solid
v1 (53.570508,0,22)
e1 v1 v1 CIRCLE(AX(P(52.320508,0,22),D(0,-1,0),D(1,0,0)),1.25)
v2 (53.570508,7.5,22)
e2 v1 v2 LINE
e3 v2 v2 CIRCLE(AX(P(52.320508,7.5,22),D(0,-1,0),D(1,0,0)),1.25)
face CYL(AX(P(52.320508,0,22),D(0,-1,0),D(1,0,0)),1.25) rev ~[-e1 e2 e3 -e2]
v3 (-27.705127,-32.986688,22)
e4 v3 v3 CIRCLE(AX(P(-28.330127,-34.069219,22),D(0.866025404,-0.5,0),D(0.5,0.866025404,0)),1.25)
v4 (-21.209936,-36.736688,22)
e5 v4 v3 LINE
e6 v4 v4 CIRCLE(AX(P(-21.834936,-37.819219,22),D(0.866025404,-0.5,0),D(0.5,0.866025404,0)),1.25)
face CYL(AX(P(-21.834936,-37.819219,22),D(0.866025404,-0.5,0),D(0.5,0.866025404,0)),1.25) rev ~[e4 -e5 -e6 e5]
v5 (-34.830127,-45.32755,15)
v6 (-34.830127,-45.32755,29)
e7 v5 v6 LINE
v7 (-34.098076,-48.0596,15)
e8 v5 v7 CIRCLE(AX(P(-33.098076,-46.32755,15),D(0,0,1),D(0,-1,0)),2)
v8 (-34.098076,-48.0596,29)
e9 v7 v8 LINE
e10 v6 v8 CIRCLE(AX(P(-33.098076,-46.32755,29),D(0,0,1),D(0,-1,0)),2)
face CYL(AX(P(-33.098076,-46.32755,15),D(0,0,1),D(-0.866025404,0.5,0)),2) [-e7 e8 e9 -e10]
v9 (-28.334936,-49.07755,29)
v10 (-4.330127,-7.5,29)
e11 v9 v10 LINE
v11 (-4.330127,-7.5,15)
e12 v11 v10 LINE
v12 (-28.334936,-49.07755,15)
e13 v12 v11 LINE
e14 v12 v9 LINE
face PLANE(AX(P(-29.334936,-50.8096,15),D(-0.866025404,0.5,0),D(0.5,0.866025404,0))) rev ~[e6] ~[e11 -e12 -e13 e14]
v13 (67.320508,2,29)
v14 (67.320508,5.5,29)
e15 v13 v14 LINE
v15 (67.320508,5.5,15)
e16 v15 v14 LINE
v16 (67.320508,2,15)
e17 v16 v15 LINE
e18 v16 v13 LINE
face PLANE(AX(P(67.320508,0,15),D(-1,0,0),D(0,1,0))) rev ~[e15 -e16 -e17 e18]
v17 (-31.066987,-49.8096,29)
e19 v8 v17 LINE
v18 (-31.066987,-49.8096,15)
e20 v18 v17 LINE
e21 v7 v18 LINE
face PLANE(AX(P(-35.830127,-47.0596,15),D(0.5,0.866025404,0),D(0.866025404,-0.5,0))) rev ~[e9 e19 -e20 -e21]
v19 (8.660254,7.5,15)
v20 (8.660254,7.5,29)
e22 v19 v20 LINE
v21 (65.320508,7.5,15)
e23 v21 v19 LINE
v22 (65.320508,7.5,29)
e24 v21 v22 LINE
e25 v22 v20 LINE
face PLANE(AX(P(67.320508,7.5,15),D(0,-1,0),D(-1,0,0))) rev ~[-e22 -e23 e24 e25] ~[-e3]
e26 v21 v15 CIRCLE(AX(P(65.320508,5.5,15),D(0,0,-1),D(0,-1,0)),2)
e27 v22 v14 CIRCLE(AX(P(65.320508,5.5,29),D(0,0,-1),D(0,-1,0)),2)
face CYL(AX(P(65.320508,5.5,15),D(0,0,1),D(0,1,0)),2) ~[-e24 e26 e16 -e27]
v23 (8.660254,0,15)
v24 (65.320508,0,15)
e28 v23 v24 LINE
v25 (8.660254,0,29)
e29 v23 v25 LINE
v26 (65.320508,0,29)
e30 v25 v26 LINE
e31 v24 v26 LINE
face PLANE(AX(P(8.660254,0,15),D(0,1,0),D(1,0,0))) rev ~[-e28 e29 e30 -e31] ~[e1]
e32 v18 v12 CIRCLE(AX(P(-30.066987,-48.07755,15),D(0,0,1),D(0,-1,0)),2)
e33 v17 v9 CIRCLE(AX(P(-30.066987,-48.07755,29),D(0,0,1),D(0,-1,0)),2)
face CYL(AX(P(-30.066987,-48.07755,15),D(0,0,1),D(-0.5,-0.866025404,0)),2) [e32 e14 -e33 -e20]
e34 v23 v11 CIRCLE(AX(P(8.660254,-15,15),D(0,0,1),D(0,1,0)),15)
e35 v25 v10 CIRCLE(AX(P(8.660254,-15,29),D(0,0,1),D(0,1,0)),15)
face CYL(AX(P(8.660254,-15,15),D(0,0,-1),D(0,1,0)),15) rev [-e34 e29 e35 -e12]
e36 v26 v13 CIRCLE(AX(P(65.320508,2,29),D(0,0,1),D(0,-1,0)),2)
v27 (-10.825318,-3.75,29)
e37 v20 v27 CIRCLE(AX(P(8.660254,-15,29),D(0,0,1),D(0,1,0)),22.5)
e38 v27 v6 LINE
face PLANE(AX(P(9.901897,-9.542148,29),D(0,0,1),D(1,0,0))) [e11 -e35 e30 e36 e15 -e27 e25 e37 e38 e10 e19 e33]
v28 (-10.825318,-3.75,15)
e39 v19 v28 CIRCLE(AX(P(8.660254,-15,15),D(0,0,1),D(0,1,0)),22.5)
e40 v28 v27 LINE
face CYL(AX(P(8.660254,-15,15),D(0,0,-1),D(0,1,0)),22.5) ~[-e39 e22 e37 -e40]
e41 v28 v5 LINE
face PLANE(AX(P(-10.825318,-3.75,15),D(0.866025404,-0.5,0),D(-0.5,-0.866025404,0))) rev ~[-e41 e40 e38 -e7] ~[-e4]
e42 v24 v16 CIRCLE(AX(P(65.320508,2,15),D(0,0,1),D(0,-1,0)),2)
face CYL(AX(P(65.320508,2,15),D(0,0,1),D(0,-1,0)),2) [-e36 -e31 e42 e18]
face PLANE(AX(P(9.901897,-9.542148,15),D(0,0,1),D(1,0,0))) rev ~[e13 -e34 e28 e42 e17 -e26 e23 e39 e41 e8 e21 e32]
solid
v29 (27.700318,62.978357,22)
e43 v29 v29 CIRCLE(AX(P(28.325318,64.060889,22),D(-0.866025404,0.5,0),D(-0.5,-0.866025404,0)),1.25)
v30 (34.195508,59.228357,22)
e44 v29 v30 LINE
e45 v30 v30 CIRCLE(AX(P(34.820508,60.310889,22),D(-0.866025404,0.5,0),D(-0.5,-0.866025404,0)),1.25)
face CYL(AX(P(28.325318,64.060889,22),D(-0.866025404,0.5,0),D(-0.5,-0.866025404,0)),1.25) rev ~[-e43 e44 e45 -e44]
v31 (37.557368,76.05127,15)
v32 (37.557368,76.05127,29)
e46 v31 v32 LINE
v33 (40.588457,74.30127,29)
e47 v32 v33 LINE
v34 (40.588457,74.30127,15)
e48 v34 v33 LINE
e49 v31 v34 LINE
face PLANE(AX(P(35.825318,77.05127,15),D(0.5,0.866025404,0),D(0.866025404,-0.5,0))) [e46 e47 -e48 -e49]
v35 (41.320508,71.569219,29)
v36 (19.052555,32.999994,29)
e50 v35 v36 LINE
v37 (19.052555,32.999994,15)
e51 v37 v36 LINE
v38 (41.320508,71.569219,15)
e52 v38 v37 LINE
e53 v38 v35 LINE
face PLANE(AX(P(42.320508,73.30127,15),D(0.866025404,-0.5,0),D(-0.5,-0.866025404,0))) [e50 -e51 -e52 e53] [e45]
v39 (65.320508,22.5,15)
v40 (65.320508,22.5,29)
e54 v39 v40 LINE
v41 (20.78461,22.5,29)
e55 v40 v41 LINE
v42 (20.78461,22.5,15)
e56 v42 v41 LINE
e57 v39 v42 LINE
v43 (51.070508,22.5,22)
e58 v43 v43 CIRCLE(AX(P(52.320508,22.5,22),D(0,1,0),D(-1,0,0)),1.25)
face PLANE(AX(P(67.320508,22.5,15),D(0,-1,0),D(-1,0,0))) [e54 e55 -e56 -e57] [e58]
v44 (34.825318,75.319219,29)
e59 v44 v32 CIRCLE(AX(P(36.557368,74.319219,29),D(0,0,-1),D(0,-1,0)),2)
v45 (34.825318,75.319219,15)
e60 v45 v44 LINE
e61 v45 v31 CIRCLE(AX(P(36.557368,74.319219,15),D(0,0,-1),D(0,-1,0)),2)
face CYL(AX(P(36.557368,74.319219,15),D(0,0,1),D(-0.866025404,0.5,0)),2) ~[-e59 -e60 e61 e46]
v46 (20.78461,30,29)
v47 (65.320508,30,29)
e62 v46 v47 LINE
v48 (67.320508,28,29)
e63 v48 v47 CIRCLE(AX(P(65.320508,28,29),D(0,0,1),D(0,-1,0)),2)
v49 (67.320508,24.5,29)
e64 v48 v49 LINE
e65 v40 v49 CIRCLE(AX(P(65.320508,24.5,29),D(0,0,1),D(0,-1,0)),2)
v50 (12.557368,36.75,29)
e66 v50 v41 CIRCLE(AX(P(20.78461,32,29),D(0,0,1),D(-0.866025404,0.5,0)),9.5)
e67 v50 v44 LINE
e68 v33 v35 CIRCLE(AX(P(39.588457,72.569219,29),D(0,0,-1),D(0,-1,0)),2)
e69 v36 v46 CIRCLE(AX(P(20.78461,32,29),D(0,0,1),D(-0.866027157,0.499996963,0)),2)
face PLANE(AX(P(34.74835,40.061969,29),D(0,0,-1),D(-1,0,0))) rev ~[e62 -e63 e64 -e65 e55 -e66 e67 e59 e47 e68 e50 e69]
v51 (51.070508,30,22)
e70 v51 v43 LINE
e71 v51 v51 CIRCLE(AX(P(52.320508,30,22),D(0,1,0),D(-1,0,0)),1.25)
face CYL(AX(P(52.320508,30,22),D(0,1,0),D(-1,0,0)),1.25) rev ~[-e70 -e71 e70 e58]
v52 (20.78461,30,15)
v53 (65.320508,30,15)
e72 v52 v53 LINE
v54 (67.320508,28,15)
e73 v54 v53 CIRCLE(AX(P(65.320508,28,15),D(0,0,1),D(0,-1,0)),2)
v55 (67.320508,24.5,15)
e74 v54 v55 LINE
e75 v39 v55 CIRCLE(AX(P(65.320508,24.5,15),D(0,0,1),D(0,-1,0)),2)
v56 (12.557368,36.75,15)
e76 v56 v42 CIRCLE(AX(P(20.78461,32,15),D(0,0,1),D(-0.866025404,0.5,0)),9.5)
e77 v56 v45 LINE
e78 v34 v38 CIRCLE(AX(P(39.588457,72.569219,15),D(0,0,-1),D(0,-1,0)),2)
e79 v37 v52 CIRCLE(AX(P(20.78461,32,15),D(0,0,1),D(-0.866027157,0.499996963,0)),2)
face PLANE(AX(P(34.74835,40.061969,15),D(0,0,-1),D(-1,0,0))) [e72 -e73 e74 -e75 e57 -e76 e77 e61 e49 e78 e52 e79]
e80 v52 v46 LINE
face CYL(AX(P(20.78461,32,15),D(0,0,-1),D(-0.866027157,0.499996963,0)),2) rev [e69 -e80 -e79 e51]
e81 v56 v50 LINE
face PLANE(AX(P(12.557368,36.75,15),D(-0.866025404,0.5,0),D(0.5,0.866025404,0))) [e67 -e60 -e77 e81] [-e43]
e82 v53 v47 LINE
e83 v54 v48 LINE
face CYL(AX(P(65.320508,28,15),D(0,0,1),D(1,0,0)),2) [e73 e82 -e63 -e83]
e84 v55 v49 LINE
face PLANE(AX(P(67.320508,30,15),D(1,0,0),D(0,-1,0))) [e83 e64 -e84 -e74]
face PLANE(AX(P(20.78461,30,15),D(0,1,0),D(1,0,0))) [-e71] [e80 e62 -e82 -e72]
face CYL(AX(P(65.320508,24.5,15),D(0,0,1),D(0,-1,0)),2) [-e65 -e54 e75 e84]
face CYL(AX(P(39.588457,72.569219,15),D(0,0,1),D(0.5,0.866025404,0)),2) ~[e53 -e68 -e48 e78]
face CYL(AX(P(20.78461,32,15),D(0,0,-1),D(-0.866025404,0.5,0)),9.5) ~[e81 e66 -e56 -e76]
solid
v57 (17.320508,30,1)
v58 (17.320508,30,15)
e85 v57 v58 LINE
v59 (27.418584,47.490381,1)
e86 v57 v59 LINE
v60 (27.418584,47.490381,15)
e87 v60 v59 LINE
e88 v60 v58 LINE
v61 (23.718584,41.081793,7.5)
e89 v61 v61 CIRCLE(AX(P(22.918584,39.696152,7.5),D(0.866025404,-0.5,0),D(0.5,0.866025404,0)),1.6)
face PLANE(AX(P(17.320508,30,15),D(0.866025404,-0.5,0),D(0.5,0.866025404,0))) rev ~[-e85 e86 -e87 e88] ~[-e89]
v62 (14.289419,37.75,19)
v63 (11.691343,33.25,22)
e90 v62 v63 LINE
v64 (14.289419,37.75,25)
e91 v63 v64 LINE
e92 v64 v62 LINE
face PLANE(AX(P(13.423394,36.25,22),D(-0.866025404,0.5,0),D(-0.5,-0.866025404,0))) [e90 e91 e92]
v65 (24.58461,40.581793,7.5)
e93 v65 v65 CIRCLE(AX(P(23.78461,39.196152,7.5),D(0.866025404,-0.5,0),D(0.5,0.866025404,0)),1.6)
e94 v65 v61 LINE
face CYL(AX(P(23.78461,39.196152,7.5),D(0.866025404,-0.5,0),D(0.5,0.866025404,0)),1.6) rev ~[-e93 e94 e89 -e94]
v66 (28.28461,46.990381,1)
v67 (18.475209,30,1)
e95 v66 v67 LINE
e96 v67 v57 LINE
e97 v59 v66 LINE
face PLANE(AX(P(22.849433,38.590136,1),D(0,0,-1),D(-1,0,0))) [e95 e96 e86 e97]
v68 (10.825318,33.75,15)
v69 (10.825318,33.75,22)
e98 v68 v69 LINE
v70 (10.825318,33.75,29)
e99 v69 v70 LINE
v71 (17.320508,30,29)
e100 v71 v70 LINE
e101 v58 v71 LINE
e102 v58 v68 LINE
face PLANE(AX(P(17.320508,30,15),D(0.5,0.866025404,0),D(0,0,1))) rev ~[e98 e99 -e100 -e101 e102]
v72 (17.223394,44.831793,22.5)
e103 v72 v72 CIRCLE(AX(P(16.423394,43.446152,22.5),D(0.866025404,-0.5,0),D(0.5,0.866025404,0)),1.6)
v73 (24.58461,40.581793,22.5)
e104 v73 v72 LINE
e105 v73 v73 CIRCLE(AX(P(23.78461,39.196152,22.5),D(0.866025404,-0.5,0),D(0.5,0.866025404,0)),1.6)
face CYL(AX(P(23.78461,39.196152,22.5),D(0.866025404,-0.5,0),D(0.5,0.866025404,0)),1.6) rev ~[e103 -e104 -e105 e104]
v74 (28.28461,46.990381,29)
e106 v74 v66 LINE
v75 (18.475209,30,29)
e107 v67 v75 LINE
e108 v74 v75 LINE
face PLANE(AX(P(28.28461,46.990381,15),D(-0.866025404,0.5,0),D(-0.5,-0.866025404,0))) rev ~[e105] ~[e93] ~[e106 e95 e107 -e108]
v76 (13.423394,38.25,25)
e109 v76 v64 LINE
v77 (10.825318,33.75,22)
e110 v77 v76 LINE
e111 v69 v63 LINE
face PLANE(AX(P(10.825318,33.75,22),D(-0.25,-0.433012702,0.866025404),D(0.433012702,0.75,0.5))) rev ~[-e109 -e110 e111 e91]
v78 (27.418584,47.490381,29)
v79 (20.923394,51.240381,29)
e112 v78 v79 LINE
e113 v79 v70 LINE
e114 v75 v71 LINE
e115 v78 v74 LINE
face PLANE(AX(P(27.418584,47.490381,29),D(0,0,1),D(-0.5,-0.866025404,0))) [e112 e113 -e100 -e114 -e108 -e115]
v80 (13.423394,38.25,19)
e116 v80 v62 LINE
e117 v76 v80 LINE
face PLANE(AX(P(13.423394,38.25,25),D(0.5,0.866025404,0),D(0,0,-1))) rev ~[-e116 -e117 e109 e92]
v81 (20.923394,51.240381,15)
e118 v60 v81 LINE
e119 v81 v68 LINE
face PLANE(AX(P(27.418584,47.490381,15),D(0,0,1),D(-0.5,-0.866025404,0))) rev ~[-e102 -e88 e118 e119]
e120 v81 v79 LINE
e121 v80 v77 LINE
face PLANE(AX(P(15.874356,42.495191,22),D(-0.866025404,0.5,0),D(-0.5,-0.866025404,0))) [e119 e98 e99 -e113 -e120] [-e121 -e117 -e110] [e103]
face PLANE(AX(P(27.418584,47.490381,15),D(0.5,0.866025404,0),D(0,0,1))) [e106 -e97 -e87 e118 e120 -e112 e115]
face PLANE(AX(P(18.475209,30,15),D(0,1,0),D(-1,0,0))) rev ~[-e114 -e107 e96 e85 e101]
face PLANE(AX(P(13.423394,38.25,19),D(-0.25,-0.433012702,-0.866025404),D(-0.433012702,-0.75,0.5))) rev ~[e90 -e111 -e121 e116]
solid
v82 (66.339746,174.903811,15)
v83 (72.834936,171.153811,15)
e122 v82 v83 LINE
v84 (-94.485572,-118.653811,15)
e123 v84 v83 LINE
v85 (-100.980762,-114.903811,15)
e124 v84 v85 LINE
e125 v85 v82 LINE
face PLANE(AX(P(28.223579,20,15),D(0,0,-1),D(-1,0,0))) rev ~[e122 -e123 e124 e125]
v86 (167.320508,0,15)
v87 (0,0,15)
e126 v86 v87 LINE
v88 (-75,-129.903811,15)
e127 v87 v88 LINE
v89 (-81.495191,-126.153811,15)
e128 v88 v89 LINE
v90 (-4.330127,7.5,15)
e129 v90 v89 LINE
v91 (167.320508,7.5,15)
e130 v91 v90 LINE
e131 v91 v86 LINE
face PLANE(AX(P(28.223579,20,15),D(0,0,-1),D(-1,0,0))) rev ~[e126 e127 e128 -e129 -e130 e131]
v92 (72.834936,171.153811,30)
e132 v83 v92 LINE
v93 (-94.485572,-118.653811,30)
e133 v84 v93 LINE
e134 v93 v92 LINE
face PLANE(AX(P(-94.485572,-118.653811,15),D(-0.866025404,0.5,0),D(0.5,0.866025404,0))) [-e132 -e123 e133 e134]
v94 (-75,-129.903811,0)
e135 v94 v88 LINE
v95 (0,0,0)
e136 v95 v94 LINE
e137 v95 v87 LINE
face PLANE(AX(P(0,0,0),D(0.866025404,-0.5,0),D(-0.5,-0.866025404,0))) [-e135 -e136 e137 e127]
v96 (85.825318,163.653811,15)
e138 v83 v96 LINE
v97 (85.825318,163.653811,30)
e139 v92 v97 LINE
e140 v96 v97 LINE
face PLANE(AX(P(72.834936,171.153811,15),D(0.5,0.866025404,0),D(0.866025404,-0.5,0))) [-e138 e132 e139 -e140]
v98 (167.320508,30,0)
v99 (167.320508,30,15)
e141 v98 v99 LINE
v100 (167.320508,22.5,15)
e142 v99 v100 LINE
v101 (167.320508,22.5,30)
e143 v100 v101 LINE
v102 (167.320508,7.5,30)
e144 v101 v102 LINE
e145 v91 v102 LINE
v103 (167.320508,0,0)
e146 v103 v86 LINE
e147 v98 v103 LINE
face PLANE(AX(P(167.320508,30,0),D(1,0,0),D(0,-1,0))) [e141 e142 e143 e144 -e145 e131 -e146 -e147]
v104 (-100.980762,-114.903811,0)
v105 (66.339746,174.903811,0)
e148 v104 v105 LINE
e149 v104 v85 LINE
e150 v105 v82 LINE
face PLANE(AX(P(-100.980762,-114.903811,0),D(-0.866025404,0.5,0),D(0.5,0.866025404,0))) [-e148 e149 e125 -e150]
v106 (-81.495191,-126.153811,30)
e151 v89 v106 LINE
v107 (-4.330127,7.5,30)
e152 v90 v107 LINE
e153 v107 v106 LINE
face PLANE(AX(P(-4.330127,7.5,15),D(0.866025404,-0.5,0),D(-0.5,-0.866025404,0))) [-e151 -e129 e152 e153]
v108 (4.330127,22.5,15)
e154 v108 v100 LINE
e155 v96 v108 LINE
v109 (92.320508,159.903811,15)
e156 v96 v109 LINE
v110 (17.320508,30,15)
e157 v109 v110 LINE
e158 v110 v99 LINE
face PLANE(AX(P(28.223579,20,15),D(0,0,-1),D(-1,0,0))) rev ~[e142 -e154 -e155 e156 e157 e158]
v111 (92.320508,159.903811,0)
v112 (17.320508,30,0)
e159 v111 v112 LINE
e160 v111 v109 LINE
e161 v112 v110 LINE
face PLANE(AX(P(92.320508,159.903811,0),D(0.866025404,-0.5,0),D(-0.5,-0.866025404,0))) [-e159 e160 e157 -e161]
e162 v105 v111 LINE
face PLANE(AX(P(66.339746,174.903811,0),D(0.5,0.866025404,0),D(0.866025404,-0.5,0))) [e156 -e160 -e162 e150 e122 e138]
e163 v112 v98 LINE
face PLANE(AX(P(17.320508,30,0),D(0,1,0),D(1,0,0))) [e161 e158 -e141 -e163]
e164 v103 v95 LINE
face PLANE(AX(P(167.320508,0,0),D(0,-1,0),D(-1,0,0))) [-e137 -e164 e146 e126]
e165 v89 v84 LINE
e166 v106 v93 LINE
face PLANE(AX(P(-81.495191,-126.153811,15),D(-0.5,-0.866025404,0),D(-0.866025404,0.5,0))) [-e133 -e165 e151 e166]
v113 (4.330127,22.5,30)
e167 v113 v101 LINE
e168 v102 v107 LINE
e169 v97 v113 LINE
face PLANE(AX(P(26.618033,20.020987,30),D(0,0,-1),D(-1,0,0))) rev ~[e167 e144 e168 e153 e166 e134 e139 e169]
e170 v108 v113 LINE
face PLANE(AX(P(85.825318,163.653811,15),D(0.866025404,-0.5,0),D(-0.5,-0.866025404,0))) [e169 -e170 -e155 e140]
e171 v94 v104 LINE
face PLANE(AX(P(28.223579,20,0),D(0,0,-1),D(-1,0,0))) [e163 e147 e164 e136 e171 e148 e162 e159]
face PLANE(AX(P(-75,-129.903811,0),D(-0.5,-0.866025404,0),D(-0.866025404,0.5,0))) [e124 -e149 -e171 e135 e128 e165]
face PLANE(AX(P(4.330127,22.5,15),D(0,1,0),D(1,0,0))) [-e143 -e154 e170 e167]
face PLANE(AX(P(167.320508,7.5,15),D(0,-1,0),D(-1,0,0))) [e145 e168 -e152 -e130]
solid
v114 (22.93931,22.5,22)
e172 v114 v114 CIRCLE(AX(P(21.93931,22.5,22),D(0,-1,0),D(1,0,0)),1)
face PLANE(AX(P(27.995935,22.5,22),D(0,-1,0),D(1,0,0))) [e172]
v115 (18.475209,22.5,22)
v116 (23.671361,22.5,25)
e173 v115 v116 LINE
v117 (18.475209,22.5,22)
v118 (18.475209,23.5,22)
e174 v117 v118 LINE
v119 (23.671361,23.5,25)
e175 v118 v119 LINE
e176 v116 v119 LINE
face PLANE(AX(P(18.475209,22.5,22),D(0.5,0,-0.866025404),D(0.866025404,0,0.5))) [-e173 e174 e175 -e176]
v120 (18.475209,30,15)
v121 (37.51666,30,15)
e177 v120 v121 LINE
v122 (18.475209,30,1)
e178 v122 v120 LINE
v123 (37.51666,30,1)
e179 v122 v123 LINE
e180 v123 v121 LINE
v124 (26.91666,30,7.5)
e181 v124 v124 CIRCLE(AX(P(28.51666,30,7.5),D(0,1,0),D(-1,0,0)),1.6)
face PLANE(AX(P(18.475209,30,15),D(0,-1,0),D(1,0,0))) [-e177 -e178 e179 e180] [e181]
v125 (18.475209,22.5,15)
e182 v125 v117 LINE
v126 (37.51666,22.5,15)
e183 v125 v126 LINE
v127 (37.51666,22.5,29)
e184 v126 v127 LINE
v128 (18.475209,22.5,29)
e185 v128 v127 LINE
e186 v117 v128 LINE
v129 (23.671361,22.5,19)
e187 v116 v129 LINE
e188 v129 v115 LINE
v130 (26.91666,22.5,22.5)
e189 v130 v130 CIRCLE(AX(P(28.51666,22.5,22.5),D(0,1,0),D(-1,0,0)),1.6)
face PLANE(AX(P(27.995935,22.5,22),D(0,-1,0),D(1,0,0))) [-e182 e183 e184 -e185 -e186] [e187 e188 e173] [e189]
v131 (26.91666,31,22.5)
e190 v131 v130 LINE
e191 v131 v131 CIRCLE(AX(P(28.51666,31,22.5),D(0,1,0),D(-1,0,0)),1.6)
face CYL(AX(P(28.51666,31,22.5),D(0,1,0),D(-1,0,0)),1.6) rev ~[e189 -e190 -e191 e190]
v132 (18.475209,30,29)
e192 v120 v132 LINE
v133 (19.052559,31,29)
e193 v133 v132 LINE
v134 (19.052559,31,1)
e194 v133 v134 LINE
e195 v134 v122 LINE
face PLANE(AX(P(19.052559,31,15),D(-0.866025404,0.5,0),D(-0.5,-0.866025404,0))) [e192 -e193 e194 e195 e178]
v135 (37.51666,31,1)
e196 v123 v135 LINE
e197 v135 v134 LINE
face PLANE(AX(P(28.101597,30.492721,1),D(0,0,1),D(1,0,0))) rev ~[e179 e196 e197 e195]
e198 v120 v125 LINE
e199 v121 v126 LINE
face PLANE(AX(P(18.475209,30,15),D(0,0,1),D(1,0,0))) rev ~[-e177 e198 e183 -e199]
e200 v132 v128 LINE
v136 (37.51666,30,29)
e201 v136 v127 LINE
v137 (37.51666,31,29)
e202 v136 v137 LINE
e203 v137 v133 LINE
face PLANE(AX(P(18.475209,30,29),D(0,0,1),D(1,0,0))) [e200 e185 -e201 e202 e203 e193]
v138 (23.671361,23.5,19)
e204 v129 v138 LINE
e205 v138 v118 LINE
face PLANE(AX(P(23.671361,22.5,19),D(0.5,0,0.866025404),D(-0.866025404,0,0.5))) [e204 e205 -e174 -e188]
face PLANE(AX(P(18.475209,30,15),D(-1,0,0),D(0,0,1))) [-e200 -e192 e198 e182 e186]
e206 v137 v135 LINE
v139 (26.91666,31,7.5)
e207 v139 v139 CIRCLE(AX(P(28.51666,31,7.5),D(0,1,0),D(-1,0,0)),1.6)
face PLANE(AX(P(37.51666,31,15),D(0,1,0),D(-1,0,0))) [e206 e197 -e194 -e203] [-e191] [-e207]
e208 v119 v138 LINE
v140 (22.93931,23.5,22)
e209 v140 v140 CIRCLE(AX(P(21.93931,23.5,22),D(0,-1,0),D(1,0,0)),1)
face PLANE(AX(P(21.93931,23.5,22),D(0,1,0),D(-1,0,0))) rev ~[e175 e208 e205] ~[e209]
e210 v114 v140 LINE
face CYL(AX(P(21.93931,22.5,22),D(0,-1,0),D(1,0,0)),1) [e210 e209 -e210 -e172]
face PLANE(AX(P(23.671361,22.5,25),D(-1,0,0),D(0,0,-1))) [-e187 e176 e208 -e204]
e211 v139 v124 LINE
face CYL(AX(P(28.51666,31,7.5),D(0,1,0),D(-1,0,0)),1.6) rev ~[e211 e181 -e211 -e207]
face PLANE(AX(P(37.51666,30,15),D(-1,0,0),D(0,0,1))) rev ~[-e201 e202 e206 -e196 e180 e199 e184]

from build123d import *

# Parameters (mm, degrees)
PAD_DEPTH       = 15
PAD001_DEPTH    = 15
PAD002_DEPTH    = 14
SKETCH006_R     = 1.25
POCKET002_DEPTH = 7.501
SKETCH007_R     = 1.25
POCKET003_DEPTH = 54.5522701892
FILLET001_R     = 2
PAD003_DEPTH    = 14
SKETCH004_R     = 1.25
POCKET_DEPTH    = 7.501
SKETCH005_R     = 1.25
POCKET001_DEPTH = 34.7808002192
FILLET_R        = 2
PAD004_DEPTH    = 14
SKETCH009_W     = 19.0414518843
SKETCH009_H     = 14
PAD005_DEPTH    = 7.5
SKETCH010_R     = 1.6
POCKET004_DEPTH = 8.501
SKETCH014_R     = 1
POCKET006_DEPTH = 1
PAD006_DEPTH    = 14
SKETCH012_W     = 20.1961524227
SKETCH012_H     = 14
PAD007_DEPTH    = 7.5
SKETCH013_R     = 1.6
POCKET005_DEPTH = 17.2461905284
POCKET007_DEPTH = 1


with BuildPart() as branche:
    # Sketch → Pad (new body)
    with BuildSketch(Plane.XY):
        Polygon((-100.9807621135, -114.9038105677), (66.3397459622, 174.9038105677), (92.3205080757, 159.9038105677), (17.3205080757, 30), (167.3205080757, 30), (167.3205080757, 0), (0, 0), (-75, -129.9038105677), align=None)
    extrude(amount=PAD_DEPTH)

    # Sketch001 (on Face10 of Pad) → Pad001 (join)
    with BuildSketch(Plane.XY.offset(15)):
        Polygon((85.8253175473, 163.6538105677), (4.3301270189, 22.5), (167.3205080757, 22.5), (167.3205080757, 7.5), (-4.3301270189, 7.5), (-81.4951905284, -126.1538105677), (-94.4855715851, -118.6538105677), (72.8349364905, 171.1538105677), align=None)
    extrude(amount=PAD001_DEPTH)


with BuildPart() as support_inter:
    # Sketch002 → Pad002 (new body)
    with BuildSketch(Plane.XY):
        with BuildLine():
            Line((67.3205080757, 22.5), (20.7846096908, 22.5))
            ThreePointArc((12.5573683549, 36.75), (12.5573683549, 27.25), (20.7846096908, 22.5))
            Line((12.5573683549, 36.75), (35.8253175473, 77.0512701892))
            Line((35.8253175473, 77.0512701892), (42.3205080757, 73.3012701892))
            Line((42.3205080757, 73.3012701892), (19.0525553763, 32.9999939257))
            ThreePointArc((19.0525553763, 32.9999939257), (19.0525606367, 30.9999969629), (20.7846096908, 30))
            Line((20.7846096908, 30), (67.3205080757, 30))
            Line((67.3205080757, 30), (67.3205080757, 22.5))
        make_face()
    extrude(amount=PAD002_DEPTH)

    # Sketch006 (on Face5 of Pad002) → Pocket002 (cut, through all)
    with BuildSketch(Plane(origin=(0, 30, 0), x_dir=(-1, 0, 0), z_dir=(0, 1, 0))):
        with Locations((-52.3205080757, 7)):
            Circle(SKETCH006_R)
    extrude(amount=-POCKET002_DEPTH, mode=Mode.SUBTRACT)

    # Sketch007 (on Face1 of Pocket002) → Pocket003 (cut, through all)
    with BuildSketch(Plane(origin=(-6.4951905284, 3.75, 0), x_dir=(-0.5, -0.8660254038, 0), z_dir=(-0.8660254038, 0.5, 0))):
        with Locations((-69.6410161514, 7)):
            Circle(SKETCH007_R)
    extrude(amount=-POCKET003_DEPTH, mode=Mode.SUBTRACT)

    # Fillet001
    fillet001_edges = [support_inter.edges().sort_by_distance(p)[0] for p in [
        (67.320508, 22.5, 7),
        (67.320508, 30, 7),
        (42.320508, 73.30127, 7),
        (35.825318, 77.05127, 7),
    ]]
    fillet(fillet001_edges, radius=FILLET001_R)


with BuildPart() as support_inter_1:
    # Body001 placement: moved
    add(support_inter.part.moved(Location((0, 0, 15))))


with BuildPart() as support_exter:
    # Sketch003 (on ShapeBinder) → Pad003 (new body)
    with BuildSketch(Plane.XY.offset(15)):
        with BuildLine():
            Line((-10.8253175473, -3.75), (-35.8301270189, -47.0596004384))
            Line((-35.8301270189, -47.0596004384), (-29.3349364905, -50.8096004384))
            Line((-29.3349364905, -50.8096004384), (-4.3301270189, -7.5))
            ThreePointArc((8.6602540378, 0), (1.1602540378, -2.0096189432), (-4.3301270189, -7.5))
            Line((8.6602540378, 0), (67.3205080757, 0))
            Line((67.3205080757, 0), (67.3205080757, 7.5))
            Line((67.3205080757, 7.5), (8.6602540378, 7.5))
            ThreePointArc((8.6602540378, 7.5), (-2.5897459622, 4.4855715852), (-10.8253175473, -3.75))
        make_face()
    extrude(amount=PAD003_DEPTH)

    # Sketch004 (on Face1 of Pad003) → Pocket (cut, through all)
    with BuildSketch(Plane.XZ):
        with Locations((52.3205080757, 22)):
            Circle(SKETCH004_R)
    extrude(amount=-POCKET_DEPTH, mode=Mode.SUBTRACT)

    # Sketch005 (on Face7 of Pocket) → Pocket001 (cut, through all)
    with BuildSketch(Plane(origin=(0, 0, 0), x_dir=(0.5, 0.8660254038, 0), z_dir=(0.8660254038, -0.5, 0))):
        with Locations((-43.6698729811, 22)):
            Circle(SKETCH005_R)
    extrude(amount=-POCKET001_DEPTH, mode=Mode.SUBTRACT)

    # Fillet
    fillet_edges = [support_exter.edges().sort_by_distance(p)[0] for p in [
        (-29.334936, -50.8096, 22),
        (-35.830127, -47.0596, 22),
        (67.320508, 0, 22),
        (67.320508, 7.5, 22),
    ]]
    fillet(fillet_edges, radius=FILLET_R)


with BuildPart() as support_charniere1:
    # Sketch008 (on Face1 of Binder001) → Pad004 (new body, symmetric)
    with BuildSketch(Plane.XY.offset(15)):
        Polygon((19.0525588833, 31), (18.4752086141, 30), (37.5166604984, 30), (37.5166604984, 31), align=None)
    extrude(amount=PAD004_DEPTH, both=True)

    # Sketch009 (on Face2 of Pad004) → Pad005 (join)
    with BuildSketch(Plane.XZ.offset(-30)):
        with Locations((27.9959345562, 22)):
            Rectangle(SKETCH009_W, SKETCH009_H)
    extrude(amount=PAD005_DEPTH)

    # Sketch010 (on Face2 of Pad005) → Pocket004 (cut, through all)
    with BuildSketch(Plane(origin=(0, 31, 0), x_dir=(-1, 0, 0), z_dir=(0, 1, 0))):
        with Locations((-28.5166604984, 22.5)):
            Circle(SKETCH010_R)
        with Locations((-28.5166604984, 7.5)):
            Circle(SKETCH010_R)
    extrude(amount=-POCKET004_DEPTH, mode=Mode.SUBTRACT)

    # Sketch014 (on Face12 of Pocket004) → Pocket006 (cut)
    with BuildSketch(Plane.XZ.offset(-22.5)):
        Polygon((23.6713610368, 25), (23.6713610368, 19), (18.4752086141, 22), align=None)
        with Locations((21.9393102292, 22)):
            Circle(SKETCH014_R, mode=Mode.SUBTRACT)
    extrude(amount=-POCKET006_DEPTH, mode=Mode.SUBTRACT)


with BuildPart() as support_charniere2:
    # Sketch011 (on ShapeBinder) → Pad006 (new body, symmetric)
    with BuildSketch(Plane.XY.offset(15)):
        Polygon((17.3205080757, 30), (27.418584287, 47.4903810568), (28.2846096908, 46.9903810568), (18.4752086141, 30), align=None)
    extrude(amount=PAD006_DEPTH, both=True)

    # Sketch012 (on Face1 of Pad006) → Pad007 (join)
    with BuildSketch(Plane(origin=(0, 0, 0), x_dir=(-0.5, -0.8660254038, 0), z_dir=(-0.8660254038, 0.5, 0))):
        with Locations((-44.7390923627, 22)):
            Rectangle(SKETCH012_W, SKETCH012_H)
    extrude(amount=PAD007_DEPTH)

    # Sketch013 (on Face6 of Pad007) → Pocket005 (cut, through all)
    with BuildSketch(Plane(origin=(0.8660254038, -0.5, 0), x_dir=(0.5, 0.8660254038, 0), z_dir=(0.8660254038, -0.5, 0))):
        with Locations((45.8371685741, 22.5)):
            Circle(SKETCH013_R)
        with Locations((45.8371685741, 7.5)):
            Circle(SKETCH013_R)
    extrude(amount=-POCKET005_DEPTH, mode=Mode.SUBTRACT)

    # Sketch015 (on Face11 of Pocket005) → Pocket007 (cut)
    with BuildSketch(Plane(origin=(-6.4951905284, 3.75, 0), x_dir=(-0.5, -0.8660254038, 0), z_dir=(-0.8660254038, 0.5, 0))):
        Polygon((-39.8371685741, 25), (-39.8371685741, 19), (-34.6410161514, 22), align=None)
    extrude(amount=-POCKET007_DEPTH, mode=Mode.SUBTRACT)


solid = Compound([branche.part, support_inter_1.part, support_exter.part, support_charniere1.part, support_charniere2.part])
